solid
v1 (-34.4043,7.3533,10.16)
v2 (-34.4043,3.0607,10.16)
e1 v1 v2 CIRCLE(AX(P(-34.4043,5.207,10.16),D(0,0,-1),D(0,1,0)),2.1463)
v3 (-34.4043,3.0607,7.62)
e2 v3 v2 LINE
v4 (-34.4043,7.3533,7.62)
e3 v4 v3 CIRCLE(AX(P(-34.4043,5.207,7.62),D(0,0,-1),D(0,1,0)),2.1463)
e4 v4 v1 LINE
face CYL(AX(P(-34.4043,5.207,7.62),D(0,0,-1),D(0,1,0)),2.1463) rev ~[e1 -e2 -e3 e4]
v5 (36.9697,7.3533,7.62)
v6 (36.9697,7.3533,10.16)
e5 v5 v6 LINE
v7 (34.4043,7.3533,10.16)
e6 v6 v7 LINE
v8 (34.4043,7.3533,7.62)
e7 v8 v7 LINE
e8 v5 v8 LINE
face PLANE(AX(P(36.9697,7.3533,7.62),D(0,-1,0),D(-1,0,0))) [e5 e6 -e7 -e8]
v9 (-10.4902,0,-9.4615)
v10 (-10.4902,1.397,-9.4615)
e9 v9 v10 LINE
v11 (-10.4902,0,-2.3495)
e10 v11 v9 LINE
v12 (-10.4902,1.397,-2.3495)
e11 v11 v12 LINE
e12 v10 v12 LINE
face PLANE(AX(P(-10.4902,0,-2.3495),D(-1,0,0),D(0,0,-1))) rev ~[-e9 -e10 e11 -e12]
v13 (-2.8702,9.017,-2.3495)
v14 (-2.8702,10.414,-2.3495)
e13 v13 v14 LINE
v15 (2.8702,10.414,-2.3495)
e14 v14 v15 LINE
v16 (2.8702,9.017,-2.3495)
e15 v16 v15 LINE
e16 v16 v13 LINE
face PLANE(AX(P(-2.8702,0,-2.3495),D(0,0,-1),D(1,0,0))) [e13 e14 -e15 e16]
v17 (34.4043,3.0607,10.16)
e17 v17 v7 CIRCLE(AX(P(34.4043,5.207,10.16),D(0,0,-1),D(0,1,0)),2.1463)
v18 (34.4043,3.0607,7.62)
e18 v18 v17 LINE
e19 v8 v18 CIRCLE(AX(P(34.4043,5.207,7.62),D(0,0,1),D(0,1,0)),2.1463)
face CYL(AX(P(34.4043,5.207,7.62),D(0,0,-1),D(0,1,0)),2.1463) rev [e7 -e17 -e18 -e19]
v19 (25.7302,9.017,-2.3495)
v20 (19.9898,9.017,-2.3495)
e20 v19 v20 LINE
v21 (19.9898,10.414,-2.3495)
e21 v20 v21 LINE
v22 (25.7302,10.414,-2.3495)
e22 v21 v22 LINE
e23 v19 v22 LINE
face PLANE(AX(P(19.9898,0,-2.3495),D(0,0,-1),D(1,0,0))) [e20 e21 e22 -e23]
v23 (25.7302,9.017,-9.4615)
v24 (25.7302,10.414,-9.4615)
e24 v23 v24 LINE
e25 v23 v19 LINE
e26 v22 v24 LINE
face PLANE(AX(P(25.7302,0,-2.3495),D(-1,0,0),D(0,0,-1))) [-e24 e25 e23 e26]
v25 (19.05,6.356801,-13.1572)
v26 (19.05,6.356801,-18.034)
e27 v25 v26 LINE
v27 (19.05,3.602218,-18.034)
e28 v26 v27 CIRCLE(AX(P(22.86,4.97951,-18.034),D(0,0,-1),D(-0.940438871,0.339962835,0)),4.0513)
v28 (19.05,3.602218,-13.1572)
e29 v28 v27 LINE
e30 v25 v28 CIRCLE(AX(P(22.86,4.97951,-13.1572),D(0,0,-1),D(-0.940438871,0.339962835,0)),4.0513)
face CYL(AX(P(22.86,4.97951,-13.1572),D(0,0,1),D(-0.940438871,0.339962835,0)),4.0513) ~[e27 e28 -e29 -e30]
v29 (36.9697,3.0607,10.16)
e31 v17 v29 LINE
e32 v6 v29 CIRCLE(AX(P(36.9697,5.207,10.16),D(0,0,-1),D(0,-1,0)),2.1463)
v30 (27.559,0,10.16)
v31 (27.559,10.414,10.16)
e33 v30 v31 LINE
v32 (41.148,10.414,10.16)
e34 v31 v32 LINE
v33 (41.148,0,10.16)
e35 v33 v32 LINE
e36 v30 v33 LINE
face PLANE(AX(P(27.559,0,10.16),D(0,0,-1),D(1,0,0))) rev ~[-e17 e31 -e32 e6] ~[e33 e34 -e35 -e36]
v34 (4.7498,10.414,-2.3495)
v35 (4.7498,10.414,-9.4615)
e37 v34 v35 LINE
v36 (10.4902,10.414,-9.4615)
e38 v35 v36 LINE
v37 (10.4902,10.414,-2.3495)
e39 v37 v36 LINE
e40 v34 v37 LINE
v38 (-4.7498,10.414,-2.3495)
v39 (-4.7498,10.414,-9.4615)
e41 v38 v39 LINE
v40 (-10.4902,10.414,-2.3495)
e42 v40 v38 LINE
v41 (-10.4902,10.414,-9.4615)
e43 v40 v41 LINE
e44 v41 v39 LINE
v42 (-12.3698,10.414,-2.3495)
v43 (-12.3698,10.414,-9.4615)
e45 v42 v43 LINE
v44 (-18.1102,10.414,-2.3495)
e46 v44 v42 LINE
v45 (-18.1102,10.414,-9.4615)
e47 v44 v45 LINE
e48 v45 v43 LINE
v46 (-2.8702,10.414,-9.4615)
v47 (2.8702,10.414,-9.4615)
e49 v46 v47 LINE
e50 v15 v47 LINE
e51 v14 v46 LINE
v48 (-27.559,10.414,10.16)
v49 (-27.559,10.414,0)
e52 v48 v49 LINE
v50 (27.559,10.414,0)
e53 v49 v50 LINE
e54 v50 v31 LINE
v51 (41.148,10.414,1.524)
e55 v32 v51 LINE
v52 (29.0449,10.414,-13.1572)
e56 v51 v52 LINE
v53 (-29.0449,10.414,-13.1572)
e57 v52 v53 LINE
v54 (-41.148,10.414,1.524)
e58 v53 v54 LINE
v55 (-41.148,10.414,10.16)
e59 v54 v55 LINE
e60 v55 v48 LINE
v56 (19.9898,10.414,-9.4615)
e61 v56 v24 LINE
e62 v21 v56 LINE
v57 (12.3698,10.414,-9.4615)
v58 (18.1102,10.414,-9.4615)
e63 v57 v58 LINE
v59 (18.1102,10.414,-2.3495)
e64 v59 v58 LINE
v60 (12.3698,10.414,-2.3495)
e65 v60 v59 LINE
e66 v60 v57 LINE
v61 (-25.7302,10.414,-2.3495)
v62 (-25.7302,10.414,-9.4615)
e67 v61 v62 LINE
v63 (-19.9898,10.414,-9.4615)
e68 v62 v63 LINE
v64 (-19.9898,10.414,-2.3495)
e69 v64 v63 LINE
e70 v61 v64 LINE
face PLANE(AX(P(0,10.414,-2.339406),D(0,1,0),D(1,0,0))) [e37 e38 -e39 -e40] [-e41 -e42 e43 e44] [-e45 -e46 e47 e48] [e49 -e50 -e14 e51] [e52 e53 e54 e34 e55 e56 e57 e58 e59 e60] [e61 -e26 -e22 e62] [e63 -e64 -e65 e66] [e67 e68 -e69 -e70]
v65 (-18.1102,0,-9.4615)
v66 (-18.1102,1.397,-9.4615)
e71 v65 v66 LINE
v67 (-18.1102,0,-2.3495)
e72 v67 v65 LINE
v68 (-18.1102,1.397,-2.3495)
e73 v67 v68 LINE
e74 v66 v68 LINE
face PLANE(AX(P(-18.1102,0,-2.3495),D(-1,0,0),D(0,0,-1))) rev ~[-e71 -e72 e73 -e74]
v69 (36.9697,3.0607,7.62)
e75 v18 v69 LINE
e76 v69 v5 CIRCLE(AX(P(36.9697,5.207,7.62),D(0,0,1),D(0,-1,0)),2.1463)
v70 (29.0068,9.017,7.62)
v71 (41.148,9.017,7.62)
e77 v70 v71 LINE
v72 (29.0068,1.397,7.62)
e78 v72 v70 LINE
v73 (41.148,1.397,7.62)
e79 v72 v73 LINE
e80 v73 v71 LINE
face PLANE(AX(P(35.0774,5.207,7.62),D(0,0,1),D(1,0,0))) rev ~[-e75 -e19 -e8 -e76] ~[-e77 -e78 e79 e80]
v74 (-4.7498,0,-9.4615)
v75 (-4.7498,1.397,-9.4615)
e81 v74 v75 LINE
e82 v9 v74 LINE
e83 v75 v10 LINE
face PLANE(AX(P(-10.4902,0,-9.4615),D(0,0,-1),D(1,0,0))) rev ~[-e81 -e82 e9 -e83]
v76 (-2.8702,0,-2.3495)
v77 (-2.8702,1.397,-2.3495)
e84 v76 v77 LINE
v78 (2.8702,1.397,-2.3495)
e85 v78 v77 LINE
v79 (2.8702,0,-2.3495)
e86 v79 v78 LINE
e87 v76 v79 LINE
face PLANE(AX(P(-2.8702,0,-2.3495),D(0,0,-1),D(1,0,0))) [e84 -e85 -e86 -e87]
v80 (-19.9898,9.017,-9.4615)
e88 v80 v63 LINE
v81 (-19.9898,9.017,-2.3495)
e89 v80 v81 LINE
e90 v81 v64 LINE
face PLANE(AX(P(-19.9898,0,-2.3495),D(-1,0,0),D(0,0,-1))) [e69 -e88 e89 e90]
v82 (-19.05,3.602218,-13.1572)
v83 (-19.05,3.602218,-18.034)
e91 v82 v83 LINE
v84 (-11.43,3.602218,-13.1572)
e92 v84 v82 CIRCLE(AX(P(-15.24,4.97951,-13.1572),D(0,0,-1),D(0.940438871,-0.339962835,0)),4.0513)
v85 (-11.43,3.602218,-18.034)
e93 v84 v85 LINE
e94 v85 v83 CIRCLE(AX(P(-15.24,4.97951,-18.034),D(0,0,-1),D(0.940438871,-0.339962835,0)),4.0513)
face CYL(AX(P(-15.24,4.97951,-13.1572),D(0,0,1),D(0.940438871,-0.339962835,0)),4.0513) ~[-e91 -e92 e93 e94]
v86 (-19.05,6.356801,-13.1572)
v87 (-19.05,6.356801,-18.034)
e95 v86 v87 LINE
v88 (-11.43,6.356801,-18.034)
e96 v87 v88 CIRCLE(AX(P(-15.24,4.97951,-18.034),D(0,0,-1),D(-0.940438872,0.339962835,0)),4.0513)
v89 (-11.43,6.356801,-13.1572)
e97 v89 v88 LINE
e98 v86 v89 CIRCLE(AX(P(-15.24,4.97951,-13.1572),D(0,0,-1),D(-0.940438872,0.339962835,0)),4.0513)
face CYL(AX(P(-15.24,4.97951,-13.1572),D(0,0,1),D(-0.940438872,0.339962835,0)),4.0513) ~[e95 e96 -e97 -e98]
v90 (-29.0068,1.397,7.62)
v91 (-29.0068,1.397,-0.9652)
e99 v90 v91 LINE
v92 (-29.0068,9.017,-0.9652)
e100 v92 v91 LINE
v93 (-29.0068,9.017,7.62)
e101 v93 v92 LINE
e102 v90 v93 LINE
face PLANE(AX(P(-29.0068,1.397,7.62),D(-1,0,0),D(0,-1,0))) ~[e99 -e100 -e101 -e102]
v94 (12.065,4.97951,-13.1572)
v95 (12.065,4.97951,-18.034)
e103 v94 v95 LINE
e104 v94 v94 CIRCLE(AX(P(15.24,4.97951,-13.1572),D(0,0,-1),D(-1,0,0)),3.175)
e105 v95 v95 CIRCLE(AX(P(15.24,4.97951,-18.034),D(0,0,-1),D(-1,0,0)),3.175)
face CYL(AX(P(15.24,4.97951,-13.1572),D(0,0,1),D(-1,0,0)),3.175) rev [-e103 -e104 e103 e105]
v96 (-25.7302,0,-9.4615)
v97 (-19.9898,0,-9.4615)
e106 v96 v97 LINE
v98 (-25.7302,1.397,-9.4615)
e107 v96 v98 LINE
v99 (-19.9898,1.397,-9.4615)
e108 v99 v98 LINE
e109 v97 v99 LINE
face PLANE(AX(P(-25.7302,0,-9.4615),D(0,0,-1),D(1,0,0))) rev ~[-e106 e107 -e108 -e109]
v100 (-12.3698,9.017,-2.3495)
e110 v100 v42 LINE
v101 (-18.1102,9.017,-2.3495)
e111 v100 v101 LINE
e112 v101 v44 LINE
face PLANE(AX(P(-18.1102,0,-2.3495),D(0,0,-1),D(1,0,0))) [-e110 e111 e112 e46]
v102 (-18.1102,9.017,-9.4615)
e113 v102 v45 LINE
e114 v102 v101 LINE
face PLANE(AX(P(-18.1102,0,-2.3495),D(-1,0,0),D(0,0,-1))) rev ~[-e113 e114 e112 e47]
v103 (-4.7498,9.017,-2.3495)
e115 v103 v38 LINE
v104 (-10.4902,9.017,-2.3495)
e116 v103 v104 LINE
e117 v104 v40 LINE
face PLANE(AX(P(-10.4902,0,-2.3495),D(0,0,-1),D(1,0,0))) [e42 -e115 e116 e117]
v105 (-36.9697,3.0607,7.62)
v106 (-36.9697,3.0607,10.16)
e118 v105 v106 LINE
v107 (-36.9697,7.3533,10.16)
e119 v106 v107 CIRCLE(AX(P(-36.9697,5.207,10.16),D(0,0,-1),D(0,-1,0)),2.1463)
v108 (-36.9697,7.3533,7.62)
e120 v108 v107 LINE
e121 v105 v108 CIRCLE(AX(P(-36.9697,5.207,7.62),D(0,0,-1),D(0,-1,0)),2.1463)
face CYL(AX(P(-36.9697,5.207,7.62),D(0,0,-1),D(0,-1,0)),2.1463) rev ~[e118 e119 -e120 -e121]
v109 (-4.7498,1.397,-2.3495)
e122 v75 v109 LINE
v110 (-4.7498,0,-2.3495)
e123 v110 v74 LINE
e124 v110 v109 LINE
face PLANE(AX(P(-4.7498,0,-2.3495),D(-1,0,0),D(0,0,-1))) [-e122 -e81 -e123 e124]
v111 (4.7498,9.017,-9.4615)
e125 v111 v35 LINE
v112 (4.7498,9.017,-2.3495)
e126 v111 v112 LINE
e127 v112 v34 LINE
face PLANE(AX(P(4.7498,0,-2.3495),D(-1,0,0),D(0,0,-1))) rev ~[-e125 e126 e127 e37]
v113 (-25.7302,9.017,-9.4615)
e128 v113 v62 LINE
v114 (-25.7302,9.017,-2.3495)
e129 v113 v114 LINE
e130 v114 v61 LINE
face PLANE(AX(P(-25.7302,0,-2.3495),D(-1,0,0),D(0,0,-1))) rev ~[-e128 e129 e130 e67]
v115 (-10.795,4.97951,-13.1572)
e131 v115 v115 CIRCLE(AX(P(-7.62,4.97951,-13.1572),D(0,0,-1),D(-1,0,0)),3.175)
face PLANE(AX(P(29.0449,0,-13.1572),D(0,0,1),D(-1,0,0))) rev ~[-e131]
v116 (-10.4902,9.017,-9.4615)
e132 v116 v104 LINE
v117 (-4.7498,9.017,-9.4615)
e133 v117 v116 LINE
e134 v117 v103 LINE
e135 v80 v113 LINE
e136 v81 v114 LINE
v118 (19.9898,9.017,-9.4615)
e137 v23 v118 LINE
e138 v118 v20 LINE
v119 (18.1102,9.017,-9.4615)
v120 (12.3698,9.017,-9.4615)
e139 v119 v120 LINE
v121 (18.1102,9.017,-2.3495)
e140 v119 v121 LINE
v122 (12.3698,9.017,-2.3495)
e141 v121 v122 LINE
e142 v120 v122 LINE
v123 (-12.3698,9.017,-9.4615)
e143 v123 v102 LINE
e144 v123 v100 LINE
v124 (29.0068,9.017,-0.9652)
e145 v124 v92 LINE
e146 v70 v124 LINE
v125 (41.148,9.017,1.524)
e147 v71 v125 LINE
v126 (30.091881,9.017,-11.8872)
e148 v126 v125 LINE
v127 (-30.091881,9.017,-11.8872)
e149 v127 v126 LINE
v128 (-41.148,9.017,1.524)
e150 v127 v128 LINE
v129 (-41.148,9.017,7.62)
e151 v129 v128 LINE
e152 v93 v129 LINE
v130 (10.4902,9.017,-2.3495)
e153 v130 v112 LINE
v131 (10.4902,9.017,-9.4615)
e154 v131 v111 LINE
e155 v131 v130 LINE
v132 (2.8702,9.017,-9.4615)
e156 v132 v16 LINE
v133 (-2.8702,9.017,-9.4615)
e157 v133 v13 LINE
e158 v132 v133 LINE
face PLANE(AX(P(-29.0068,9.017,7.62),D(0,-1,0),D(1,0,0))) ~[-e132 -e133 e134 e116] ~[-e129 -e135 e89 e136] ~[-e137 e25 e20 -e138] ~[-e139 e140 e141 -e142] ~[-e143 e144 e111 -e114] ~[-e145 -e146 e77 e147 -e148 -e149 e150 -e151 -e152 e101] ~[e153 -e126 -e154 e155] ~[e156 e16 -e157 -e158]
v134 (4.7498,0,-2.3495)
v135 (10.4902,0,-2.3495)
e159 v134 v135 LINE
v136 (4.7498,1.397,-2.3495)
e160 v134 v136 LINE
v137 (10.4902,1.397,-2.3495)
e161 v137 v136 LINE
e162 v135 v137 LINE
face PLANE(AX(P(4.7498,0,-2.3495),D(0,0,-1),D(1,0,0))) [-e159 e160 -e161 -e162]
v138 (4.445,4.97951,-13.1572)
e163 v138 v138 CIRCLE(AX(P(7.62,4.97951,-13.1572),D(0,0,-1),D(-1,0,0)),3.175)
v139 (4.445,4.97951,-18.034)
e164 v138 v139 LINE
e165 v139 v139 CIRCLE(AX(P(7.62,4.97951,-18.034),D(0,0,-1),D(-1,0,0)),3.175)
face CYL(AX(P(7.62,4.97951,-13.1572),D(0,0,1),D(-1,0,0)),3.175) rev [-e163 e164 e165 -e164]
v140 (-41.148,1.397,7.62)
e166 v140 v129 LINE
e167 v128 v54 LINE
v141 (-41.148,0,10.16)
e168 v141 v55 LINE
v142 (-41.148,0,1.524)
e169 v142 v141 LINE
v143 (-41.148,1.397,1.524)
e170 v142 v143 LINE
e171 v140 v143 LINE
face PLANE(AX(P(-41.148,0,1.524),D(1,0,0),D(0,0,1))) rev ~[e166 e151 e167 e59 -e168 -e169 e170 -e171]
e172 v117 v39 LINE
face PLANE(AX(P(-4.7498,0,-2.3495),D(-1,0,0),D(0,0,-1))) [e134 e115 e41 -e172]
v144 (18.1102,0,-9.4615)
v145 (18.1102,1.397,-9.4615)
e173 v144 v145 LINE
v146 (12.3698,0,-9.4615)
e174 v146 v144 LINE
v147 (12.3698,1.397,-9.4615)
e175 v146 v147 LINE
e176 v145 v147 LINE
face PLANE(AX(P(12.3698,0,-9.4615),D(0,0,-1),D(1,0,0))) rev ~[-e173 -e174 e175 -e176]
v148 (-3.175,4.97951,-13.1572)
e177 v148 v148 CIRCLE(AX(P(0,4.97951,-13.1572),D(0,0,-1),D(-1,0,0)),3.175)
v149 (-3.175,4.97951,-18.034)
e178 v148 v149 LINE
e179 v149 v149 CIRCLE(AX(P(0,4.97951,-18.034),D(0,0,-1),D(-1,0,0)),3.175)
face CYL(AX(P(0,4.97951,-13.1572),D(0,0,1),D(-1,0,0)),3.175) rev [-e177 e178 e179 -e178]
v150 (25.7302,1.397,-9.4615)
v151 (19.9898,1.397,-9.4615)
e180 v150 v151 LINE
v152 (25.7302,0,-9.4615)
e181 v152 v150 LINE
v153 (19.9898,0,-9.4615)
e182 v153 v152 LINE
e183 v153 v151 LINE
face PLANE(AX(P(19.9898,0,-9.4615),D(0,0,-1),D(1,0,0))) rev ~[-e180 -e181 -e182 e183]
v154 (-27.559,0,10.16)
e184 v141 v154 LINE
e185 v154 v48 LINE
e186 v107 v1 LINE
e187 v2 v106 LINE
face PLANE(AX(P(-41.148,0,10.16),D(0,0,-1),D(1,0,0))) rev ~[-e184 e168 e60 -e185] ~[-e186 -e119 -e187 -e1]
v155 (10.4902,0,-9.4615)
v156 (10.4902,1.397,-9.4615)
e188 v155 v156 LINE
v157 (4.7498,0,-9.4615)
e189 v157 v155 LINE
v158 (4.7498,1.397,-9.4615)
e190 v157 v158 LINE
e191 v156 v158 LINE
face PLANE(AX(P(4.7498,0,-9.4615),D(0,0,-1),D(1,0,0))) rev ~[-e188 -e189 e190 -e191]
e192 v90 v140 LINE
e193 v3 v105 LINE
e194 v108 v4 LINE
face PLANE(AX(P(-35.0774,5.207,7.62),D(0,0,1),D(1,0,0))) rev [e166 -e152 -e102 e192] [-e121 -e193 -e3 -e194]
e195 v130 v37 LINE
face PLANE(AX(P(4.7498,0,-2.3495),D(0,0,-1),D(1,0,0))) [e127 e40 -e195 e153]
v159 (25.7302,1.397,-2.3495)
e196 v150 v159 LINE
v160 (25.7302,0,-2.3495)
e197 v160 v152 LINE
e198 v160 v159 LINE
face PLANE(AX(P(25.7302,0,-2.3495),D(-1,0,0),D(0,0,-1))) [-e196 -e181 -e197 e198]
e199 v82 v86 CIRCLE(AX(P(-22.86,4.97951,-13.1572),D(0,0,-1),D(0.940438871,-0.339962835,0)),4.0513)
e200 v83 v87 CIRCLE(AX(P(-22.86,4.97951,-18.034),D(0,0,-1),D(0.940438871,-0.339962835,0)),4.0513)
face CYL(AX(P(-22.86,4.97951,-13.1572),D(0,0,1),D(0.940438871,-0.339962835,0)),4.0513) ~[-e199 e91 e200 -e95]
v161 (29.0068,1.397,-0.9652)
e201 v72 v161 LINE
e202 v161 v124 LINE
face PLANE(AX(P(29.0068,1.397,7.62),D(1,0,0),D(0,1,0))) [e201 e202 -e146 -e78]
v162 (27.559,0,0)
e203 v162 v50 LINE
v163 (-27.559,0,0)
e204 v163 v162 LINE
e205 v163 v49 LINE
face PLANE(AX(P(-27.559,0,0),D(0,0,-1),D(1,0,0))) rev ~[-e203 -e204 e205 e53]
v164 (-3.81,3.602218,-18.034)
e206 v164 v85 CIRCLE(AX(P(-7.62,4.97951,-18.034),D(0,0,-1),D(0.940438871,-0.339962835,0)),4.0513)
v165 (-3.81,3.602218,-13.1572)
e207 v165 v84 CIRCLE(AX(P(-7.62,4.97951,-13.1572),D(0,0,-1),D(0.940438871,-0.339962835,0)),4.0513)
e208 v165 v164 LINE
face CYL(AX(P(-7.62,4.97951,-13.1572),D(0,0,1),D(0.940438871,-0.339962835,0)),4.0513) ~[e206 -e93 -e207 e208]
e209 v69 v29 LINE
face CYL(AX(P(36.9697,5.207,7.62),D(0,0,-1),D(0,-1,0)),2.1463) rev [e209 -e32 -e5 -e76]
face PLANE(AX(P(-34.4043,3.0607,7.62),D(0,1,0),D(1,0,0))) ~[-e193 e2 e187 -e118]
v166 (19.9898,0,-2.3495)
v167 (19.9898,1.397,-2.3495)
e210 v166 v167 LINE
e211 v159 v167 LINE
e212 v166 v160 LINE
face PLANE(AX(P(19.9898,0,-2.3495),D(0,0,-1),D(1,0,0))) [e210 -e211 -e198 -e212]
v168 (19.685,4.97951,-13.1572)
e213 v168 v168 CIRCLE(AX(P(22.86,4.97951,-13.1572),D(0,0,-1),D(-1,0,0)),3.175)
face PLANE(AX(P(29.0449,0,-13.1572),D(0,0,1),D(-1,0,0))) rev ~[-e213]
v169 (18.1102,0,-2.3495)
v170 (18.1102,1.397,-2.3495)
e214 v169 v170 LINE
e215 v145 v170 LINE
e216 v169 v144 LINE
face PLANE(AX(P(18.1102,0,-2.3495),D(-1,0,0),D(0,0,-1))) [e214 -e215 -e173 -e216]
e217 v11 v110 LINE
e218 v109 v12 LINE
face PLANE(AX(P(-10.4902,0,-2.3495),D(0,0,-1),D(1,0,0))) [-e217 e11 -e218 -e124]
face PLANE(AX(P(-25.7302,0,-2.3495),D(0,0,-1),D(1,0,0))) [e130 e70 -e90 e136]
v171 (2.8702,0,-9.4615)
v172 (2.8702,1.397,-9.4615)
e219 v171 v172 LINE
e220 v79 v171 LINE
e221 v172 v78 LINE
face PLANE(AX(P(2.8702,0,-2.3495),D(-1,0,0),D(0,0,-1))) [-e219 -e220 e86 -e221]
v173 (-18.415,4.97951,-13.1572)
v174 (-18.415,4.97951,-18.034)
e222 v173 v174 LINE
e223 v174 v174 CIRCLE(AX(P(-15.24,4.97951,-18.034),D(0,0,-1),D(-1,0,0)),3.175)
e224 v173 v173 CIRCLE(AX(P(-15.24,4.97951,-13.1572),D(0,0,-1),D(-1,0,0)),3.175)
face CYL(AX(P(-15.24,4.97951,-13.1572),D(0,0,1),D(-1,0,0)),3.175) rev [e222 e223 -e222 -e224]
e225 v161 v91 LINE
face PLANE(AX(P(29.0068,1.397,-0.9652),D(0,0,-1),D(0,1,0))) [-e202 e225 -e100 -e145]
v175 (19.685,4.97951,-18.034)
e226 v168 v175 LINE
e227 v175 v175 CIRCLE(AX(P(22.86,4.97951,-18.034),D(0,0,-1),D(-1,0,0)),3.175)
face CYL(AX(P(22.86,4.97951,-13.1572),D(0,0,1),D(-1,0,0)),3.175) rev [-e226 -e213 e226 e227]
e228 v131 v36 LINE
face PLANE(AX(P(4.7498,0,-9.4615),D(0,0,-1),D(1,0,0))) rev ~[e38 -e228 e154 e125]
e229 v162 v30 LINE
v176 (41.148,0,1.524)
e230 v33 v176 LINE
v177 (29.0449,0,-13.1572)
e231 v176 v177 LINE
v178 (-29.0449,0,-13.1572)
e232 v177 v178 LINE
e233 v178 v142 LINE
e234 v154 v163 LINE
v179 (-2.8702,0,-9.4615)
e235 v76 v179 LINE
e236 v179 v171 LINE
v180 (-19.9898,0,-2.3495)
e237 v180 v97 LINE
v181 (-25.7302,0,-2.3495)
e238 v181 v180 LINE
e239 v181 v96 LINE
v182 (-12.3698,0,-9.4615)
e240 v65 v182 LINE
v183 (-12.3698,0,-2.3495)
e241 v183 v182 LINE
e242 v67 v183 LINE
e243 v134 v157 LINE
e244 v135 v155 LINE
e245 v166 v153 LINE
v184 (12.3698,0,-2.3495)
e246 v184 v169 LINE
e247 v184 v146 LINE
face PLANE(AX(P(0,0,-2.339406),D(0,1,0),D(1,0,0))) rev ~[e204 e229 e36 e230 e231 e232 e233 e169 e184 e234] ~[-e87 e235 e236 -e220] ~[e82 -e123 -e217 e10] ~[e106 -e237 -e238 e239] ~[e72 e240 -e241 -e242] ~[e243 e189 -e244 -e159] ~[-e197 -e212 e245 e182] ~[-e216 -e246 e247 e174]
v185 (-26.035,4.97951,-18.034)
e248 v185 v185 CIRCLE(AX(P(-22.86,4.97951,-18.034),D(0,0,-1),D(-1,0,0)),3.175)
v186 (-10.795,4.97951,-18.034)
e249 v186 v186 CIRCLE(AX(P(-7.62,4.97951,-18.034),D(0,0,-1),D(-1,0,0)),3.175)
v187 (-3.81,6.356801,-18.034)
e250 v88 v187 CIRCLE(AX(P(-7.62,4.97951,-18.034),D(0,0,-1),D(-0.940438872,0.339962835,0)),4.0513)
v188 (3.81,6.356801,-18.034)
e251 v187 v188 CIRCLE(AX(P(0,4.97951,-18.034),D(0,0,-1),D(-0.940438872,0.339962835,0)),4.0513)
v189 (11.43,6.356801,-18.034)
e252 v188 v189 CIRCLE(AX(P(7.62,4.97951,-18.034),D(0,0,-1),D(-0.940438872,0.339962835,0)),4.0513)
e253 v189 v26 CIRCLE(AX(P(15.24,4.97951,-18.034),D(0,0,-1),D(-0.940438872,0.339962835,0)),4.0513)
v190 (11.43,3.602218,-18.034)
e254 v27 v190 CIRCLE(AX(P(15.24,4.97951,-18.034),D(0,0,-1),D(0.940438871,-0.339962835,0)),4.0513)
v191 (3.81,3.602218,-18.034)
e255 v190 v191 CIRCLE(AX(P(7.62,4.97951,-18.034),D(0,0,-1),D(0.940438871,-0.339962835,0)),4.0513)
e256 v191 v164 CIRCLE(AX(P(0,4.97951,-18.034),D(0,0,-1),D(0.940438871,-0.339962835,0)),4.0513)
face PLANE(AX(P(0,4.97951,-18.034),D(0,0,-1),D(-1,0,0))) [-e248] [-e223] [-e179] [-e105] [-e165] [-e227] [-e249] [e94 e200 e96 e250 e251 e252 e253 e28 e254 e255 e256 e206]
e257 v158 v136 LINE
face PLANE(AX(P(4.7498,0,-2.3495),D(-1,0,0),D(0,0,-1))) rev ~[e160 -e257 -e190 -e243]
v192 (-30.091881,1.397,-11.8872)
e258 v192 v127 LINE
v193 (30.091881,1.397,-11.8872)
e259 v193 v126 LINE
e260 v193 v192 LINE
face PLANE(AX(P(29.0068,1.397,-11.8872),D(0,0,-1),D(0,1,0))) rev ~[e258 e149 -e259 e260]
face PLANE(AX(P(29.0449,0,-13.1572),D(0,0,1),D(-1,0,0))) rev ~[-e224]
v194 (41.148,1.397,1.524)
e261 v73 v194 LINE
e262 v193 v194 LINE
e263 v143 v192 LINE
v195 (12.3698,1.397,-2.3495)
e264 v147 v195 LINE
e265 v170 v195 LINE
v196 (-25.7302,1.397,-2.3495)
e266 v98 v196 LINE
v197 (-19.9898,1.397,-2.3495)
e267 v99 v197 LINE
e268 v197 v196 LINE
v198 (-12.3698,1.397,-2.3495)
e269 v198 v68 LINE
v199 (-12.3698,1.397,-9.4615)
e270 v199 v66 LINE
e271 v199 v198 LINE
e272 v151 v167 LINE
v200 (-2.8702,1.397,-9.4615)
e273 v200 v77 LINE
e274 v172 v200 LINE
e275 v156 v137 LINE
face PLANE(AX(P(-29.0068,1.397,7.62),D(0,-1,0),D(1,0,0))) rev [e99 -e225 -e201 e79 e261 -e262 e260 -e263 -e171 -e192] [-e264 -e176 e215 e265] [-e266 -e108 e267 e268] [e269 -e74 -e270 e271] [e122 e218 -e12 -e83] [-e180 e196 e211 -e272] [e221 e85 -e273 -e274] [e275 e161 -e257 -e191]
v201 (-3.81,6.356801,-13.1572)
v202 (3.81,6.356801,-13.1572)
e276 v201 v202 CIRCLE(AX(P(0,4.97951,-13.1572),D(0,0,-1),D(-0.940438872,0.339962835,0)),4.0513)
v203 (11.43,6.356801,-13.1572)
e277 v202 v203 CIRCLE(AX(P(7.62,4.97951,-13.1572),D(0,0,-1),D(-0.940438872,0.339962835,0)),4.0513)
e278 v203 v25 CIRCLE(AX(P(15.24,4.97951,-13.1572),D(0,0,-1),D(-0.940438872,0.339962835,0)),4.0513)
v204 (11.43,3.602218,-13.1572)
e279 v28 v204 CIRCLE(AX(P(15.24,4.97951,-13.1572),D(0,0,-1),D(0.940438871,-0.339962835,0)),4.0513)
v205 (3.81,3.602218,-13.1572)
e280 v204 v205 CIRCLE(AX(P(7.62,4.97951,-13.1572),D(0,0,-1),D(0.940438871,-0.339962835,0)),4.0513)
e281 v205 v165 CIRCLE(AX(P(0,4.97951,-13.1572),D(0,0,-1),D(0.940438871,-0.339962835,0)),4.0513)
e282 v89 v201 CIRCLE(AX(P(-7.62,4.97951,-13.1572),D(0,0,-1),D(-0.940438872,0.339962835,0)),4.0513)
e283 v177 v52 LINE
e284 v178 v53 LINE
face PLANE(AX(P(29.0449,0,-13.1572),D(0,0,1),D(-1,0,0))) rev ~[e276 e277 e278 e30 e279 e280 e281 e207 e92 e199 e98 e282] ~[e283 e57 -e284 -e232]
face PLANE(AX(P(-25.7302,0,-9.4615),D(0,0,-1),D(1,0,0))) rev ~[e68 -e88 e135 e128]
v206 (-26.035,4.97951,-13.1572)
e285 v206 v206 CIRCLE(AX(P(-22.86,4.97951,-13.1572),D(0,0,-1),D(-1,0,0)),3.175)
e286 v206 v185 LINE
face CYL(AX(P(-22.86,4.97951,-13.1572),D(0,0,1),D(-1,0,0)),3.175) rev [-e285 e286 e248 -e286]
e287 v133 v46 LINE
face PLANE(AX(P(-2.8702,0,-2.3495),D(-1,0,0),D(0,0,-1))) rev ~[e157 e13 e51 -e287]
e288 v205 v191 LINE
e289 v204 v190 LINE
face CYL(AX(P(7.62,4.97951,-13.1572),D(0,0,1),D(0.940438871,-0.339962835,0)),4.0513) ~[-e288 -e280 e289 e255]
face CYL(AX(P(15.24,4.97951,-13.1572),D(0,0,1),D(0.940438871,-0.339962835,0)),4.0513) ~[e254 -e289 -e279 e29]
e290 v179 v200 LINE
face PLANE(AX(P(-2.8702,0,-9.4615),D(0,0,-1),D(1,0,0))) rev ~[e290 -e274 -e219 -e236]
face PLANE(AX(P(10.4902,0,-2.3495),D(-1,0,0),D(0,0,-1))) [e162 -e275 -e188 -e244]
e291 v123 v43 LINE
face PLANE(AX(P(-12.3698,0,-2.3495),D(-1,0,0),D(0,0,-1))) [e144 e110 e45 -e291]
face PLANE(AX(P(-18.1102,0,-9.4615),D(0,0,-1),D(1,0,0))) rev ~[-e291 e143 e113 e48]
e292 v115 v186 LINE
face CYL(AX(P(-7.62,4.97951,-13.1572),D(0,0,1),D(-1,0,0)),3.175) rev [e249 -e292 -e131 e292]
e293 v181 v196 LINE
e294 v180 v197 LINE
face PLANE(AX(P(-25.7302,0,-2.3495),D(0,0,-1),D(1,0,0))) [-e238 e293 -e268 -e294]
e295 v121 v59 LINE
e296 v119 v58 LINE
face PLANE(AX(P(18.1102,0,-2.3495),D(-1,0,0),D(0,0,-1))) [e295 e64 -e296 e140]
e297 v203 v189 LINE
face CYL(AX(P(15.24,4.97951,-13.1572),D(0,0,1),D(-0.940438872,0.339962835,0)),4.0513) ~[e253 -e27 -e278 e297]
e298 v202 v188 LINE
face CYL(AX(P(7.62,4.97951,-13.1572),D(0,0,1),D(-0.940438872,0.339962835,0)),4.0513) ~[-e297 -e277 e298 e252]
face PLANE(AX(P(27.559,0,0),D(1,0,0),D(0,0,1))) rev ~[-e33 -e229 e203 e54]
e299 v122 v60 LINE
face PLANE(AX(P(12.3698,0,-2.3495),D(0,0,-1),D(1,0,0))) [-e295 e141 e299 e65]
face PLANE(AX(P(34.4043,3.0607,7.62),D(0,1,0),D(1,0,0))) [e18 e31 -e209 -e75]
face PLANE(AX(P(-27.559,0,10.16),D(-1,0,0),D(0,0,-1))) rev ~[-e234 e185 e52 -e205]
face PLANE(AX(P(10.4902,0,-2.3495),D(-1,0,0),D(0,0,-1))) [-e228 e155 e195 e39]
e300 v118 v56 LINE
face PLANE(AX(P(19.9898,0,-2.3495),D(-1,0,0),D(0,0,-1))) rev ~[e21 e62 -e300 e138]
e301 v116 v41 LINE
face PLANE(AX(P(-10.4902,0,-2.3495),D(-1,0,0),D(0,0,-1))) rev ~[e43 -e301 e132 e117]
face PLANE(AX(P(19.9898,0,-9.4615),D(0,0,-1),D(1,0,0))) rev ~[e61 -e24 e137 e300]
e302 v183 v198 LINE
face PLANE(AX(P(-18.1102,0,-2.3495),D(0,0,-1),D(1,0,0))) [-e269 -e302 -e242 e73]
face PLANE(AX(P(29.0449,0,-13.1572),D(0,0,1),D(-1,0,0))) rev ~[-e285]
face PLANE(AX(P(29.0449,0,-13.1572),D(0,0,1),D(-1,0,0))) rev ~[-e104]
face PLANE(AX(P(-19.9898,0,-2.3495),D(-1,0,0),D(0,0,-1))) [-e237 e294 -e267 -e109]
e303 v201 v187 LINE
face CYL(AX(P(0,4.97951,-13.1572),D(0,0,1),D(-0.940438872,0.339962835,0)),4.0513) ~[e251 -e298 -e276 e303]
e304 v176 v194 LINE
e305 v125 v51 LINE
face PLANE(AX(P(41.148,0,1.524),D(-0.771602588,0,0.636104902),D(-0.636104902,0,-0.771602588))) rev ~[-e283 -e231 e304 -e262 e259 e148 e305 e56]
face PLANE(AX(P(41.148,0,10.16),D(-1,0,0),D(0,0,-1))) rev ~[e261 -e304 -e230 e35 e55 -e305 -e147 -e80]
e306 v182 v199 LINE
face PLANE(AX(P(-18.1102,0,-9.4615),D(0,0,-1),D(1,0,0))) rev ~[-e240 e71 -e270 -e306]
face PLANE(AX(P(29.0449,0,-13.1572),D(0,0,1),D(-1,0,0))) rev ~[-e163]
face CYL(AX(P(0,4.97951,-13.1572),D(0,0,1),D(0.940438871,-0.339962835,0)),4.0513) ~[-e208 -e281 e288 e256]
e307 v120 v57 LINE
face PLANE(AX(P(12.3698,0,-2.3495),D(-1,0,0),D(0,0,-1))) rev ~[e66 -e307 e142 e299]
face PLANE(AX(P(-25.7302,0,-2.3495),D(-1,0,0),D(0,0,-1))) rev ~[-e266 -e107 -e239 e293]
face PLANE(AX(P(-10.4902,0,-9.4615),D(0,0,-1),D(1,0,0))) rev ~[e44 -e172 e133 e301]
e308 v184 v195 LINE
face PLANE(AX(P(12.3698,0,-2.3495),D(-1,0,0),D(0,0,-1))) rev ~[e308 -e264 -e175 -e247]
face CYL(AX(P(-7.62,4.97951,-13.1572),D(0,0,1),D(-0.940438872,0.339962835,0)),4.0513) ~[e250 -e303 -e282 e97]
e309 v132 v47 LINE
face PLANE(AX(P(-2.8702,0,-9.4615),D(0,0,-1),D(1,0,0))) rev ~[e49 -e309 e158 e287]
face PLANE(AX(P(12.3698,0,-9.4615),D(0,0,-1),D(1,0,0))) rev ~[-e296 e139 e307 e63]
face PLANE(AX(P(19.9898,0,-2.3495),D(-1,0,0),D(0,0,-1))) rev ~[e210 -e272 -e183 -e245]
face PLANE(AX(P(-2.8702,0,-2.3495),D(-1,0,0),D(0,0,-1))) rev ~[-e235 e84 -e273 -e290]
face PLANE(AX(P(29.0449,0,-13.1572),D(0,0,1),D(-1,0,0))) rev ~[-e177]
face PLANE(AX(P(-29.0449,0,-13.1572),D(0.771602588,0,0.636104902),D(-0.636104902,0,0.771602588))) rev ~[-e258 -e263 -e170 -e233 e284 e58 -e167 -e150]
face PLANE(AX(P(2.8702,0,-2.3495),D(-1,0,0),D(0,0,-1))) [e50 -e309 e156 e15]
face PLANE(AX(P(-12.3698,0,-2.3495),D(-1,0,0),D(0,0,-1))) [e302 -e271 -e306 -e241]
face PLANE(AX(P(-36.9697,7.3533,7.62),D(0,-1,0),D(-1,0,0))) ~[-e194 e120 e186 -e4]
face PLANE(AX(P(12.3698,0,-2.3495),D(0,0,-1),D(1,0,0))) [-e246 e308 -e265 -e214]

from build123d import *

# Parameters (mm, degrees)
SKETCH1_W           = 5.7404
SKETCH1_H           = 7.112
BOSS_EXTRUDE1_DEPTH = 10.414
CUT_EXTRUDE1_START  = -2.54
SKETCH3_W           = 12.1412
SKETCH3_H           = 7.62
CUT_EXTRUDE1_DEPTH  = 19.5072
SKETCH4_W           = 10.922
SKETCH4_H           = 7.62
CUT_EXTRUDE2_DEPTH  = 73.133620947
CUT_EXTRUDE3_DEPTH  = 48.257817764
SKETCH6_R           = 3.175
BOSS_EXTRUDE2_DEPTH = 4.8768


with BuildPart() as part:
    # Sketch1 → Boss-Extrude1 (new body)
    with BuildSketch(Plane(origin=(0, 0, 0), x_dir=(1, 0, 0), z_dir=(0, 1, 0))):
        Polygon((-41.148, -10.16), (-27.559, -10.16), (-27.559, 0), (27.559, 0), (27.559, -10.16), (41.148, -10.16), (41.148, -1.524), (29.0449, 13.1572), (-29.0449, 13.1572), (-41.148, -1.524), align=None)
        with Locations((7.62, 5.9055)):
            Rectangle(SKETCH1_W, SKETCH1_H, mode=Mode.SUBTRACT)
        with Locations((0, 5.9055)):
            Rectangle(SKETCH1_W, SKETCH1_H, mode=Mode.SUBTRACT)
        with Locations((15.24, 5.9055)):
            Rectangle(SKETCH1_W, SKETCH1_H, mode=Mode.SUBTRACT)
        with Locations((22.86, 5.9055)):
            Rectangle(SKETCH1_W, SKETCH1_H, mode=Mode.SUBTRACT)
        with Locations((-7.62, 5.9055)):
            Rectangle(SKETCH1_W, SKETCH1_H, mode=Mode.SUBTRACT)
        with Locations((-15.24, 5.9055)):
            Rectangle(SKETCH1_W, SKETCH1_H, mode=Mode.SUBTRACT)
        with Locations((-22.86, 5.9055)):
            Rectangle(SKETCH1_W, SKETCH1_H, mode=Mode.SUBTRACT)
    extrude(amount=BOSS_EXTRUDE1_DEPTH)

    # Sketch3 → Cut-Extrude1 (cut)
    with BuildSketch(Plane.XY.offset(10.16).offset(CUT_EXTRUDE1_START)):
        with Locations((35.0774, 5.207)):
            Rectangle(SKETCH3_W, SKETCH3_H)
    cut_extrude1 = extrude(amount=-CUT_EXTRUDE1_DEPTH, mode=Mode.SUBTRACT)

    # Sketch4 → Cut-Extrude2 (cut, through all)
    with BuildSketch(Plane(origin=(29.0068, 0, 0), x_dir=(0, 0, -1), z_dir=(1, 0, 0))):
        with Locations((6.4262, 5.207)):
            Rectangle(SKETCH4_W, SKETCH4_H)
    extrude(amount=-CUT_EXTRUDE2_DEPTH, mode=Mode.SUBTRACT)

    # Sketch5 → Cut-Extrude3 (cut, through all)
    with BuildSketch(Plane(origin=(0, 0, 7.62), x_dir=(-1, 0, 0), z_dir=(0, 0, -1))):
        with BuildLine():
            Line((-34.4043, 3.0607), (-36.9697, 3.0607))
            ThreePointArc((-36.9697, 3.0607), (-39.116, 5.207), (-36.9697, 7.3533))
            Line((-36.9697, 7.3533), (-34.4043, 7.3533))
            ThreePointArc((-34.4043, 7.3533), (-32.258, 5.207), (-34.4043, 3.0607))
        make_face()
    cut_extrude3 = extrude(amount=-CUT_EXTRUDE3_DEPTH, mode=Mode.SUBTRACT)

    # Mirror1: Cut-Extrude1, Cut-Extrude3 across plane
    add(cut_extrude1.mirror(Plane(origin=(0, 0, 0), x_dir=(0, 0, 1), z_dir=(1, 0, 0))), mode=Mode.SUBTRACT)
    add(cut_extrude3.mirror(Plane(origin=(0, 0, 0), x_dir=(0, 0, 1), z_dir=(1, 0, 0))), mode=Mode.SUBTRACT)

    # Sketch6 → Boss-Extrude2 (add)
    with BuildSketch(Plane(origin=(0, 0, -13.1572), x_dir=(-1, 0, 0), z_dir=(0, 0, -1))):
        with BuildLine():
            ThreePointArc((-3.81, 3.602218207), (0, 0.92820964), (3.81, 3.602218207))
            ThreePointArc((3.81, 3.602218207), (7.62, 0.92820964), (11.43, 3.602218207))
            ThreePointArc((11.43, 3.602218207), (15.24, 0.92820964), (19.05, 3.602218207))
            ThreePointArc((19.05, 3.602218207), (26.9113, 4.97950964), (19.05, 6.356801072))
            ThreePointArc((19.05, 6.356801072), (15.24, 9.03080964), (11.43, 6.356801072))
            ThreePointArc((11.43, 6.356801072), (7.62, 9.03080964), (3.81, 6.356801072))
            ThreePointArc((3.81, 6.356801072), (0, 9.03080964), (-3.81, 6.356801072))
            ThreePointArc((-3.81, 6.356801072), (-7.62, 9.03080964), (-11.43, 6.356801072))
            ThreePointArc((-11.43, 6.356801072), (-15.24, 9.03080964), (-19.05, 6.356801072))
            ThreePointArc((-19.05, 6.356801072), (-26.9113, 4.97950964), (-19.05, 3.602218207))
            ThreePointArc((-19.05, 3.602218207), (-15.24, 0.92820964), (-11.43, 3.602218207))
            ThreePointArc((-11.43, 3.602218207), (-7.62, 0.92820964), (-3.81, 3.602218207))
        make_face()
        with Locations((0, 4.97950964)):
            Circle(SKETCH6_R, mode=Mode.SUBTRACT)
        with Locations((7.62, 4.97950964)):
            Circle(SKETCH6_R, mode=Mode.SUBTRACT)
        with Locations((15.24, 4.97950964)):
            Circle(SKETCH6_R, mode=Mode.SUBTRACT)
        with Locations((22.86, 4.97950964)):
            Circle(SKETCH6_R, mode=Mode.SUBTRACT)
        with Locations((-7.62, 4.97950964)):
            Circle(SKETCH6_R, mode=Mode.SUBTRACT)
        with Locations((-15.24, 4.97950964)):
            Circle(SKETCH6_R, mode=Mode.SUBTRACT)
        with Locations((-22.86, 4.97950964)):
            Circle(SKETCH6_R, mode=Mode.SUBTRACT)
    extrude(amount=BOSS_EXTRUDE2_DEPTH)


solid = part.part
